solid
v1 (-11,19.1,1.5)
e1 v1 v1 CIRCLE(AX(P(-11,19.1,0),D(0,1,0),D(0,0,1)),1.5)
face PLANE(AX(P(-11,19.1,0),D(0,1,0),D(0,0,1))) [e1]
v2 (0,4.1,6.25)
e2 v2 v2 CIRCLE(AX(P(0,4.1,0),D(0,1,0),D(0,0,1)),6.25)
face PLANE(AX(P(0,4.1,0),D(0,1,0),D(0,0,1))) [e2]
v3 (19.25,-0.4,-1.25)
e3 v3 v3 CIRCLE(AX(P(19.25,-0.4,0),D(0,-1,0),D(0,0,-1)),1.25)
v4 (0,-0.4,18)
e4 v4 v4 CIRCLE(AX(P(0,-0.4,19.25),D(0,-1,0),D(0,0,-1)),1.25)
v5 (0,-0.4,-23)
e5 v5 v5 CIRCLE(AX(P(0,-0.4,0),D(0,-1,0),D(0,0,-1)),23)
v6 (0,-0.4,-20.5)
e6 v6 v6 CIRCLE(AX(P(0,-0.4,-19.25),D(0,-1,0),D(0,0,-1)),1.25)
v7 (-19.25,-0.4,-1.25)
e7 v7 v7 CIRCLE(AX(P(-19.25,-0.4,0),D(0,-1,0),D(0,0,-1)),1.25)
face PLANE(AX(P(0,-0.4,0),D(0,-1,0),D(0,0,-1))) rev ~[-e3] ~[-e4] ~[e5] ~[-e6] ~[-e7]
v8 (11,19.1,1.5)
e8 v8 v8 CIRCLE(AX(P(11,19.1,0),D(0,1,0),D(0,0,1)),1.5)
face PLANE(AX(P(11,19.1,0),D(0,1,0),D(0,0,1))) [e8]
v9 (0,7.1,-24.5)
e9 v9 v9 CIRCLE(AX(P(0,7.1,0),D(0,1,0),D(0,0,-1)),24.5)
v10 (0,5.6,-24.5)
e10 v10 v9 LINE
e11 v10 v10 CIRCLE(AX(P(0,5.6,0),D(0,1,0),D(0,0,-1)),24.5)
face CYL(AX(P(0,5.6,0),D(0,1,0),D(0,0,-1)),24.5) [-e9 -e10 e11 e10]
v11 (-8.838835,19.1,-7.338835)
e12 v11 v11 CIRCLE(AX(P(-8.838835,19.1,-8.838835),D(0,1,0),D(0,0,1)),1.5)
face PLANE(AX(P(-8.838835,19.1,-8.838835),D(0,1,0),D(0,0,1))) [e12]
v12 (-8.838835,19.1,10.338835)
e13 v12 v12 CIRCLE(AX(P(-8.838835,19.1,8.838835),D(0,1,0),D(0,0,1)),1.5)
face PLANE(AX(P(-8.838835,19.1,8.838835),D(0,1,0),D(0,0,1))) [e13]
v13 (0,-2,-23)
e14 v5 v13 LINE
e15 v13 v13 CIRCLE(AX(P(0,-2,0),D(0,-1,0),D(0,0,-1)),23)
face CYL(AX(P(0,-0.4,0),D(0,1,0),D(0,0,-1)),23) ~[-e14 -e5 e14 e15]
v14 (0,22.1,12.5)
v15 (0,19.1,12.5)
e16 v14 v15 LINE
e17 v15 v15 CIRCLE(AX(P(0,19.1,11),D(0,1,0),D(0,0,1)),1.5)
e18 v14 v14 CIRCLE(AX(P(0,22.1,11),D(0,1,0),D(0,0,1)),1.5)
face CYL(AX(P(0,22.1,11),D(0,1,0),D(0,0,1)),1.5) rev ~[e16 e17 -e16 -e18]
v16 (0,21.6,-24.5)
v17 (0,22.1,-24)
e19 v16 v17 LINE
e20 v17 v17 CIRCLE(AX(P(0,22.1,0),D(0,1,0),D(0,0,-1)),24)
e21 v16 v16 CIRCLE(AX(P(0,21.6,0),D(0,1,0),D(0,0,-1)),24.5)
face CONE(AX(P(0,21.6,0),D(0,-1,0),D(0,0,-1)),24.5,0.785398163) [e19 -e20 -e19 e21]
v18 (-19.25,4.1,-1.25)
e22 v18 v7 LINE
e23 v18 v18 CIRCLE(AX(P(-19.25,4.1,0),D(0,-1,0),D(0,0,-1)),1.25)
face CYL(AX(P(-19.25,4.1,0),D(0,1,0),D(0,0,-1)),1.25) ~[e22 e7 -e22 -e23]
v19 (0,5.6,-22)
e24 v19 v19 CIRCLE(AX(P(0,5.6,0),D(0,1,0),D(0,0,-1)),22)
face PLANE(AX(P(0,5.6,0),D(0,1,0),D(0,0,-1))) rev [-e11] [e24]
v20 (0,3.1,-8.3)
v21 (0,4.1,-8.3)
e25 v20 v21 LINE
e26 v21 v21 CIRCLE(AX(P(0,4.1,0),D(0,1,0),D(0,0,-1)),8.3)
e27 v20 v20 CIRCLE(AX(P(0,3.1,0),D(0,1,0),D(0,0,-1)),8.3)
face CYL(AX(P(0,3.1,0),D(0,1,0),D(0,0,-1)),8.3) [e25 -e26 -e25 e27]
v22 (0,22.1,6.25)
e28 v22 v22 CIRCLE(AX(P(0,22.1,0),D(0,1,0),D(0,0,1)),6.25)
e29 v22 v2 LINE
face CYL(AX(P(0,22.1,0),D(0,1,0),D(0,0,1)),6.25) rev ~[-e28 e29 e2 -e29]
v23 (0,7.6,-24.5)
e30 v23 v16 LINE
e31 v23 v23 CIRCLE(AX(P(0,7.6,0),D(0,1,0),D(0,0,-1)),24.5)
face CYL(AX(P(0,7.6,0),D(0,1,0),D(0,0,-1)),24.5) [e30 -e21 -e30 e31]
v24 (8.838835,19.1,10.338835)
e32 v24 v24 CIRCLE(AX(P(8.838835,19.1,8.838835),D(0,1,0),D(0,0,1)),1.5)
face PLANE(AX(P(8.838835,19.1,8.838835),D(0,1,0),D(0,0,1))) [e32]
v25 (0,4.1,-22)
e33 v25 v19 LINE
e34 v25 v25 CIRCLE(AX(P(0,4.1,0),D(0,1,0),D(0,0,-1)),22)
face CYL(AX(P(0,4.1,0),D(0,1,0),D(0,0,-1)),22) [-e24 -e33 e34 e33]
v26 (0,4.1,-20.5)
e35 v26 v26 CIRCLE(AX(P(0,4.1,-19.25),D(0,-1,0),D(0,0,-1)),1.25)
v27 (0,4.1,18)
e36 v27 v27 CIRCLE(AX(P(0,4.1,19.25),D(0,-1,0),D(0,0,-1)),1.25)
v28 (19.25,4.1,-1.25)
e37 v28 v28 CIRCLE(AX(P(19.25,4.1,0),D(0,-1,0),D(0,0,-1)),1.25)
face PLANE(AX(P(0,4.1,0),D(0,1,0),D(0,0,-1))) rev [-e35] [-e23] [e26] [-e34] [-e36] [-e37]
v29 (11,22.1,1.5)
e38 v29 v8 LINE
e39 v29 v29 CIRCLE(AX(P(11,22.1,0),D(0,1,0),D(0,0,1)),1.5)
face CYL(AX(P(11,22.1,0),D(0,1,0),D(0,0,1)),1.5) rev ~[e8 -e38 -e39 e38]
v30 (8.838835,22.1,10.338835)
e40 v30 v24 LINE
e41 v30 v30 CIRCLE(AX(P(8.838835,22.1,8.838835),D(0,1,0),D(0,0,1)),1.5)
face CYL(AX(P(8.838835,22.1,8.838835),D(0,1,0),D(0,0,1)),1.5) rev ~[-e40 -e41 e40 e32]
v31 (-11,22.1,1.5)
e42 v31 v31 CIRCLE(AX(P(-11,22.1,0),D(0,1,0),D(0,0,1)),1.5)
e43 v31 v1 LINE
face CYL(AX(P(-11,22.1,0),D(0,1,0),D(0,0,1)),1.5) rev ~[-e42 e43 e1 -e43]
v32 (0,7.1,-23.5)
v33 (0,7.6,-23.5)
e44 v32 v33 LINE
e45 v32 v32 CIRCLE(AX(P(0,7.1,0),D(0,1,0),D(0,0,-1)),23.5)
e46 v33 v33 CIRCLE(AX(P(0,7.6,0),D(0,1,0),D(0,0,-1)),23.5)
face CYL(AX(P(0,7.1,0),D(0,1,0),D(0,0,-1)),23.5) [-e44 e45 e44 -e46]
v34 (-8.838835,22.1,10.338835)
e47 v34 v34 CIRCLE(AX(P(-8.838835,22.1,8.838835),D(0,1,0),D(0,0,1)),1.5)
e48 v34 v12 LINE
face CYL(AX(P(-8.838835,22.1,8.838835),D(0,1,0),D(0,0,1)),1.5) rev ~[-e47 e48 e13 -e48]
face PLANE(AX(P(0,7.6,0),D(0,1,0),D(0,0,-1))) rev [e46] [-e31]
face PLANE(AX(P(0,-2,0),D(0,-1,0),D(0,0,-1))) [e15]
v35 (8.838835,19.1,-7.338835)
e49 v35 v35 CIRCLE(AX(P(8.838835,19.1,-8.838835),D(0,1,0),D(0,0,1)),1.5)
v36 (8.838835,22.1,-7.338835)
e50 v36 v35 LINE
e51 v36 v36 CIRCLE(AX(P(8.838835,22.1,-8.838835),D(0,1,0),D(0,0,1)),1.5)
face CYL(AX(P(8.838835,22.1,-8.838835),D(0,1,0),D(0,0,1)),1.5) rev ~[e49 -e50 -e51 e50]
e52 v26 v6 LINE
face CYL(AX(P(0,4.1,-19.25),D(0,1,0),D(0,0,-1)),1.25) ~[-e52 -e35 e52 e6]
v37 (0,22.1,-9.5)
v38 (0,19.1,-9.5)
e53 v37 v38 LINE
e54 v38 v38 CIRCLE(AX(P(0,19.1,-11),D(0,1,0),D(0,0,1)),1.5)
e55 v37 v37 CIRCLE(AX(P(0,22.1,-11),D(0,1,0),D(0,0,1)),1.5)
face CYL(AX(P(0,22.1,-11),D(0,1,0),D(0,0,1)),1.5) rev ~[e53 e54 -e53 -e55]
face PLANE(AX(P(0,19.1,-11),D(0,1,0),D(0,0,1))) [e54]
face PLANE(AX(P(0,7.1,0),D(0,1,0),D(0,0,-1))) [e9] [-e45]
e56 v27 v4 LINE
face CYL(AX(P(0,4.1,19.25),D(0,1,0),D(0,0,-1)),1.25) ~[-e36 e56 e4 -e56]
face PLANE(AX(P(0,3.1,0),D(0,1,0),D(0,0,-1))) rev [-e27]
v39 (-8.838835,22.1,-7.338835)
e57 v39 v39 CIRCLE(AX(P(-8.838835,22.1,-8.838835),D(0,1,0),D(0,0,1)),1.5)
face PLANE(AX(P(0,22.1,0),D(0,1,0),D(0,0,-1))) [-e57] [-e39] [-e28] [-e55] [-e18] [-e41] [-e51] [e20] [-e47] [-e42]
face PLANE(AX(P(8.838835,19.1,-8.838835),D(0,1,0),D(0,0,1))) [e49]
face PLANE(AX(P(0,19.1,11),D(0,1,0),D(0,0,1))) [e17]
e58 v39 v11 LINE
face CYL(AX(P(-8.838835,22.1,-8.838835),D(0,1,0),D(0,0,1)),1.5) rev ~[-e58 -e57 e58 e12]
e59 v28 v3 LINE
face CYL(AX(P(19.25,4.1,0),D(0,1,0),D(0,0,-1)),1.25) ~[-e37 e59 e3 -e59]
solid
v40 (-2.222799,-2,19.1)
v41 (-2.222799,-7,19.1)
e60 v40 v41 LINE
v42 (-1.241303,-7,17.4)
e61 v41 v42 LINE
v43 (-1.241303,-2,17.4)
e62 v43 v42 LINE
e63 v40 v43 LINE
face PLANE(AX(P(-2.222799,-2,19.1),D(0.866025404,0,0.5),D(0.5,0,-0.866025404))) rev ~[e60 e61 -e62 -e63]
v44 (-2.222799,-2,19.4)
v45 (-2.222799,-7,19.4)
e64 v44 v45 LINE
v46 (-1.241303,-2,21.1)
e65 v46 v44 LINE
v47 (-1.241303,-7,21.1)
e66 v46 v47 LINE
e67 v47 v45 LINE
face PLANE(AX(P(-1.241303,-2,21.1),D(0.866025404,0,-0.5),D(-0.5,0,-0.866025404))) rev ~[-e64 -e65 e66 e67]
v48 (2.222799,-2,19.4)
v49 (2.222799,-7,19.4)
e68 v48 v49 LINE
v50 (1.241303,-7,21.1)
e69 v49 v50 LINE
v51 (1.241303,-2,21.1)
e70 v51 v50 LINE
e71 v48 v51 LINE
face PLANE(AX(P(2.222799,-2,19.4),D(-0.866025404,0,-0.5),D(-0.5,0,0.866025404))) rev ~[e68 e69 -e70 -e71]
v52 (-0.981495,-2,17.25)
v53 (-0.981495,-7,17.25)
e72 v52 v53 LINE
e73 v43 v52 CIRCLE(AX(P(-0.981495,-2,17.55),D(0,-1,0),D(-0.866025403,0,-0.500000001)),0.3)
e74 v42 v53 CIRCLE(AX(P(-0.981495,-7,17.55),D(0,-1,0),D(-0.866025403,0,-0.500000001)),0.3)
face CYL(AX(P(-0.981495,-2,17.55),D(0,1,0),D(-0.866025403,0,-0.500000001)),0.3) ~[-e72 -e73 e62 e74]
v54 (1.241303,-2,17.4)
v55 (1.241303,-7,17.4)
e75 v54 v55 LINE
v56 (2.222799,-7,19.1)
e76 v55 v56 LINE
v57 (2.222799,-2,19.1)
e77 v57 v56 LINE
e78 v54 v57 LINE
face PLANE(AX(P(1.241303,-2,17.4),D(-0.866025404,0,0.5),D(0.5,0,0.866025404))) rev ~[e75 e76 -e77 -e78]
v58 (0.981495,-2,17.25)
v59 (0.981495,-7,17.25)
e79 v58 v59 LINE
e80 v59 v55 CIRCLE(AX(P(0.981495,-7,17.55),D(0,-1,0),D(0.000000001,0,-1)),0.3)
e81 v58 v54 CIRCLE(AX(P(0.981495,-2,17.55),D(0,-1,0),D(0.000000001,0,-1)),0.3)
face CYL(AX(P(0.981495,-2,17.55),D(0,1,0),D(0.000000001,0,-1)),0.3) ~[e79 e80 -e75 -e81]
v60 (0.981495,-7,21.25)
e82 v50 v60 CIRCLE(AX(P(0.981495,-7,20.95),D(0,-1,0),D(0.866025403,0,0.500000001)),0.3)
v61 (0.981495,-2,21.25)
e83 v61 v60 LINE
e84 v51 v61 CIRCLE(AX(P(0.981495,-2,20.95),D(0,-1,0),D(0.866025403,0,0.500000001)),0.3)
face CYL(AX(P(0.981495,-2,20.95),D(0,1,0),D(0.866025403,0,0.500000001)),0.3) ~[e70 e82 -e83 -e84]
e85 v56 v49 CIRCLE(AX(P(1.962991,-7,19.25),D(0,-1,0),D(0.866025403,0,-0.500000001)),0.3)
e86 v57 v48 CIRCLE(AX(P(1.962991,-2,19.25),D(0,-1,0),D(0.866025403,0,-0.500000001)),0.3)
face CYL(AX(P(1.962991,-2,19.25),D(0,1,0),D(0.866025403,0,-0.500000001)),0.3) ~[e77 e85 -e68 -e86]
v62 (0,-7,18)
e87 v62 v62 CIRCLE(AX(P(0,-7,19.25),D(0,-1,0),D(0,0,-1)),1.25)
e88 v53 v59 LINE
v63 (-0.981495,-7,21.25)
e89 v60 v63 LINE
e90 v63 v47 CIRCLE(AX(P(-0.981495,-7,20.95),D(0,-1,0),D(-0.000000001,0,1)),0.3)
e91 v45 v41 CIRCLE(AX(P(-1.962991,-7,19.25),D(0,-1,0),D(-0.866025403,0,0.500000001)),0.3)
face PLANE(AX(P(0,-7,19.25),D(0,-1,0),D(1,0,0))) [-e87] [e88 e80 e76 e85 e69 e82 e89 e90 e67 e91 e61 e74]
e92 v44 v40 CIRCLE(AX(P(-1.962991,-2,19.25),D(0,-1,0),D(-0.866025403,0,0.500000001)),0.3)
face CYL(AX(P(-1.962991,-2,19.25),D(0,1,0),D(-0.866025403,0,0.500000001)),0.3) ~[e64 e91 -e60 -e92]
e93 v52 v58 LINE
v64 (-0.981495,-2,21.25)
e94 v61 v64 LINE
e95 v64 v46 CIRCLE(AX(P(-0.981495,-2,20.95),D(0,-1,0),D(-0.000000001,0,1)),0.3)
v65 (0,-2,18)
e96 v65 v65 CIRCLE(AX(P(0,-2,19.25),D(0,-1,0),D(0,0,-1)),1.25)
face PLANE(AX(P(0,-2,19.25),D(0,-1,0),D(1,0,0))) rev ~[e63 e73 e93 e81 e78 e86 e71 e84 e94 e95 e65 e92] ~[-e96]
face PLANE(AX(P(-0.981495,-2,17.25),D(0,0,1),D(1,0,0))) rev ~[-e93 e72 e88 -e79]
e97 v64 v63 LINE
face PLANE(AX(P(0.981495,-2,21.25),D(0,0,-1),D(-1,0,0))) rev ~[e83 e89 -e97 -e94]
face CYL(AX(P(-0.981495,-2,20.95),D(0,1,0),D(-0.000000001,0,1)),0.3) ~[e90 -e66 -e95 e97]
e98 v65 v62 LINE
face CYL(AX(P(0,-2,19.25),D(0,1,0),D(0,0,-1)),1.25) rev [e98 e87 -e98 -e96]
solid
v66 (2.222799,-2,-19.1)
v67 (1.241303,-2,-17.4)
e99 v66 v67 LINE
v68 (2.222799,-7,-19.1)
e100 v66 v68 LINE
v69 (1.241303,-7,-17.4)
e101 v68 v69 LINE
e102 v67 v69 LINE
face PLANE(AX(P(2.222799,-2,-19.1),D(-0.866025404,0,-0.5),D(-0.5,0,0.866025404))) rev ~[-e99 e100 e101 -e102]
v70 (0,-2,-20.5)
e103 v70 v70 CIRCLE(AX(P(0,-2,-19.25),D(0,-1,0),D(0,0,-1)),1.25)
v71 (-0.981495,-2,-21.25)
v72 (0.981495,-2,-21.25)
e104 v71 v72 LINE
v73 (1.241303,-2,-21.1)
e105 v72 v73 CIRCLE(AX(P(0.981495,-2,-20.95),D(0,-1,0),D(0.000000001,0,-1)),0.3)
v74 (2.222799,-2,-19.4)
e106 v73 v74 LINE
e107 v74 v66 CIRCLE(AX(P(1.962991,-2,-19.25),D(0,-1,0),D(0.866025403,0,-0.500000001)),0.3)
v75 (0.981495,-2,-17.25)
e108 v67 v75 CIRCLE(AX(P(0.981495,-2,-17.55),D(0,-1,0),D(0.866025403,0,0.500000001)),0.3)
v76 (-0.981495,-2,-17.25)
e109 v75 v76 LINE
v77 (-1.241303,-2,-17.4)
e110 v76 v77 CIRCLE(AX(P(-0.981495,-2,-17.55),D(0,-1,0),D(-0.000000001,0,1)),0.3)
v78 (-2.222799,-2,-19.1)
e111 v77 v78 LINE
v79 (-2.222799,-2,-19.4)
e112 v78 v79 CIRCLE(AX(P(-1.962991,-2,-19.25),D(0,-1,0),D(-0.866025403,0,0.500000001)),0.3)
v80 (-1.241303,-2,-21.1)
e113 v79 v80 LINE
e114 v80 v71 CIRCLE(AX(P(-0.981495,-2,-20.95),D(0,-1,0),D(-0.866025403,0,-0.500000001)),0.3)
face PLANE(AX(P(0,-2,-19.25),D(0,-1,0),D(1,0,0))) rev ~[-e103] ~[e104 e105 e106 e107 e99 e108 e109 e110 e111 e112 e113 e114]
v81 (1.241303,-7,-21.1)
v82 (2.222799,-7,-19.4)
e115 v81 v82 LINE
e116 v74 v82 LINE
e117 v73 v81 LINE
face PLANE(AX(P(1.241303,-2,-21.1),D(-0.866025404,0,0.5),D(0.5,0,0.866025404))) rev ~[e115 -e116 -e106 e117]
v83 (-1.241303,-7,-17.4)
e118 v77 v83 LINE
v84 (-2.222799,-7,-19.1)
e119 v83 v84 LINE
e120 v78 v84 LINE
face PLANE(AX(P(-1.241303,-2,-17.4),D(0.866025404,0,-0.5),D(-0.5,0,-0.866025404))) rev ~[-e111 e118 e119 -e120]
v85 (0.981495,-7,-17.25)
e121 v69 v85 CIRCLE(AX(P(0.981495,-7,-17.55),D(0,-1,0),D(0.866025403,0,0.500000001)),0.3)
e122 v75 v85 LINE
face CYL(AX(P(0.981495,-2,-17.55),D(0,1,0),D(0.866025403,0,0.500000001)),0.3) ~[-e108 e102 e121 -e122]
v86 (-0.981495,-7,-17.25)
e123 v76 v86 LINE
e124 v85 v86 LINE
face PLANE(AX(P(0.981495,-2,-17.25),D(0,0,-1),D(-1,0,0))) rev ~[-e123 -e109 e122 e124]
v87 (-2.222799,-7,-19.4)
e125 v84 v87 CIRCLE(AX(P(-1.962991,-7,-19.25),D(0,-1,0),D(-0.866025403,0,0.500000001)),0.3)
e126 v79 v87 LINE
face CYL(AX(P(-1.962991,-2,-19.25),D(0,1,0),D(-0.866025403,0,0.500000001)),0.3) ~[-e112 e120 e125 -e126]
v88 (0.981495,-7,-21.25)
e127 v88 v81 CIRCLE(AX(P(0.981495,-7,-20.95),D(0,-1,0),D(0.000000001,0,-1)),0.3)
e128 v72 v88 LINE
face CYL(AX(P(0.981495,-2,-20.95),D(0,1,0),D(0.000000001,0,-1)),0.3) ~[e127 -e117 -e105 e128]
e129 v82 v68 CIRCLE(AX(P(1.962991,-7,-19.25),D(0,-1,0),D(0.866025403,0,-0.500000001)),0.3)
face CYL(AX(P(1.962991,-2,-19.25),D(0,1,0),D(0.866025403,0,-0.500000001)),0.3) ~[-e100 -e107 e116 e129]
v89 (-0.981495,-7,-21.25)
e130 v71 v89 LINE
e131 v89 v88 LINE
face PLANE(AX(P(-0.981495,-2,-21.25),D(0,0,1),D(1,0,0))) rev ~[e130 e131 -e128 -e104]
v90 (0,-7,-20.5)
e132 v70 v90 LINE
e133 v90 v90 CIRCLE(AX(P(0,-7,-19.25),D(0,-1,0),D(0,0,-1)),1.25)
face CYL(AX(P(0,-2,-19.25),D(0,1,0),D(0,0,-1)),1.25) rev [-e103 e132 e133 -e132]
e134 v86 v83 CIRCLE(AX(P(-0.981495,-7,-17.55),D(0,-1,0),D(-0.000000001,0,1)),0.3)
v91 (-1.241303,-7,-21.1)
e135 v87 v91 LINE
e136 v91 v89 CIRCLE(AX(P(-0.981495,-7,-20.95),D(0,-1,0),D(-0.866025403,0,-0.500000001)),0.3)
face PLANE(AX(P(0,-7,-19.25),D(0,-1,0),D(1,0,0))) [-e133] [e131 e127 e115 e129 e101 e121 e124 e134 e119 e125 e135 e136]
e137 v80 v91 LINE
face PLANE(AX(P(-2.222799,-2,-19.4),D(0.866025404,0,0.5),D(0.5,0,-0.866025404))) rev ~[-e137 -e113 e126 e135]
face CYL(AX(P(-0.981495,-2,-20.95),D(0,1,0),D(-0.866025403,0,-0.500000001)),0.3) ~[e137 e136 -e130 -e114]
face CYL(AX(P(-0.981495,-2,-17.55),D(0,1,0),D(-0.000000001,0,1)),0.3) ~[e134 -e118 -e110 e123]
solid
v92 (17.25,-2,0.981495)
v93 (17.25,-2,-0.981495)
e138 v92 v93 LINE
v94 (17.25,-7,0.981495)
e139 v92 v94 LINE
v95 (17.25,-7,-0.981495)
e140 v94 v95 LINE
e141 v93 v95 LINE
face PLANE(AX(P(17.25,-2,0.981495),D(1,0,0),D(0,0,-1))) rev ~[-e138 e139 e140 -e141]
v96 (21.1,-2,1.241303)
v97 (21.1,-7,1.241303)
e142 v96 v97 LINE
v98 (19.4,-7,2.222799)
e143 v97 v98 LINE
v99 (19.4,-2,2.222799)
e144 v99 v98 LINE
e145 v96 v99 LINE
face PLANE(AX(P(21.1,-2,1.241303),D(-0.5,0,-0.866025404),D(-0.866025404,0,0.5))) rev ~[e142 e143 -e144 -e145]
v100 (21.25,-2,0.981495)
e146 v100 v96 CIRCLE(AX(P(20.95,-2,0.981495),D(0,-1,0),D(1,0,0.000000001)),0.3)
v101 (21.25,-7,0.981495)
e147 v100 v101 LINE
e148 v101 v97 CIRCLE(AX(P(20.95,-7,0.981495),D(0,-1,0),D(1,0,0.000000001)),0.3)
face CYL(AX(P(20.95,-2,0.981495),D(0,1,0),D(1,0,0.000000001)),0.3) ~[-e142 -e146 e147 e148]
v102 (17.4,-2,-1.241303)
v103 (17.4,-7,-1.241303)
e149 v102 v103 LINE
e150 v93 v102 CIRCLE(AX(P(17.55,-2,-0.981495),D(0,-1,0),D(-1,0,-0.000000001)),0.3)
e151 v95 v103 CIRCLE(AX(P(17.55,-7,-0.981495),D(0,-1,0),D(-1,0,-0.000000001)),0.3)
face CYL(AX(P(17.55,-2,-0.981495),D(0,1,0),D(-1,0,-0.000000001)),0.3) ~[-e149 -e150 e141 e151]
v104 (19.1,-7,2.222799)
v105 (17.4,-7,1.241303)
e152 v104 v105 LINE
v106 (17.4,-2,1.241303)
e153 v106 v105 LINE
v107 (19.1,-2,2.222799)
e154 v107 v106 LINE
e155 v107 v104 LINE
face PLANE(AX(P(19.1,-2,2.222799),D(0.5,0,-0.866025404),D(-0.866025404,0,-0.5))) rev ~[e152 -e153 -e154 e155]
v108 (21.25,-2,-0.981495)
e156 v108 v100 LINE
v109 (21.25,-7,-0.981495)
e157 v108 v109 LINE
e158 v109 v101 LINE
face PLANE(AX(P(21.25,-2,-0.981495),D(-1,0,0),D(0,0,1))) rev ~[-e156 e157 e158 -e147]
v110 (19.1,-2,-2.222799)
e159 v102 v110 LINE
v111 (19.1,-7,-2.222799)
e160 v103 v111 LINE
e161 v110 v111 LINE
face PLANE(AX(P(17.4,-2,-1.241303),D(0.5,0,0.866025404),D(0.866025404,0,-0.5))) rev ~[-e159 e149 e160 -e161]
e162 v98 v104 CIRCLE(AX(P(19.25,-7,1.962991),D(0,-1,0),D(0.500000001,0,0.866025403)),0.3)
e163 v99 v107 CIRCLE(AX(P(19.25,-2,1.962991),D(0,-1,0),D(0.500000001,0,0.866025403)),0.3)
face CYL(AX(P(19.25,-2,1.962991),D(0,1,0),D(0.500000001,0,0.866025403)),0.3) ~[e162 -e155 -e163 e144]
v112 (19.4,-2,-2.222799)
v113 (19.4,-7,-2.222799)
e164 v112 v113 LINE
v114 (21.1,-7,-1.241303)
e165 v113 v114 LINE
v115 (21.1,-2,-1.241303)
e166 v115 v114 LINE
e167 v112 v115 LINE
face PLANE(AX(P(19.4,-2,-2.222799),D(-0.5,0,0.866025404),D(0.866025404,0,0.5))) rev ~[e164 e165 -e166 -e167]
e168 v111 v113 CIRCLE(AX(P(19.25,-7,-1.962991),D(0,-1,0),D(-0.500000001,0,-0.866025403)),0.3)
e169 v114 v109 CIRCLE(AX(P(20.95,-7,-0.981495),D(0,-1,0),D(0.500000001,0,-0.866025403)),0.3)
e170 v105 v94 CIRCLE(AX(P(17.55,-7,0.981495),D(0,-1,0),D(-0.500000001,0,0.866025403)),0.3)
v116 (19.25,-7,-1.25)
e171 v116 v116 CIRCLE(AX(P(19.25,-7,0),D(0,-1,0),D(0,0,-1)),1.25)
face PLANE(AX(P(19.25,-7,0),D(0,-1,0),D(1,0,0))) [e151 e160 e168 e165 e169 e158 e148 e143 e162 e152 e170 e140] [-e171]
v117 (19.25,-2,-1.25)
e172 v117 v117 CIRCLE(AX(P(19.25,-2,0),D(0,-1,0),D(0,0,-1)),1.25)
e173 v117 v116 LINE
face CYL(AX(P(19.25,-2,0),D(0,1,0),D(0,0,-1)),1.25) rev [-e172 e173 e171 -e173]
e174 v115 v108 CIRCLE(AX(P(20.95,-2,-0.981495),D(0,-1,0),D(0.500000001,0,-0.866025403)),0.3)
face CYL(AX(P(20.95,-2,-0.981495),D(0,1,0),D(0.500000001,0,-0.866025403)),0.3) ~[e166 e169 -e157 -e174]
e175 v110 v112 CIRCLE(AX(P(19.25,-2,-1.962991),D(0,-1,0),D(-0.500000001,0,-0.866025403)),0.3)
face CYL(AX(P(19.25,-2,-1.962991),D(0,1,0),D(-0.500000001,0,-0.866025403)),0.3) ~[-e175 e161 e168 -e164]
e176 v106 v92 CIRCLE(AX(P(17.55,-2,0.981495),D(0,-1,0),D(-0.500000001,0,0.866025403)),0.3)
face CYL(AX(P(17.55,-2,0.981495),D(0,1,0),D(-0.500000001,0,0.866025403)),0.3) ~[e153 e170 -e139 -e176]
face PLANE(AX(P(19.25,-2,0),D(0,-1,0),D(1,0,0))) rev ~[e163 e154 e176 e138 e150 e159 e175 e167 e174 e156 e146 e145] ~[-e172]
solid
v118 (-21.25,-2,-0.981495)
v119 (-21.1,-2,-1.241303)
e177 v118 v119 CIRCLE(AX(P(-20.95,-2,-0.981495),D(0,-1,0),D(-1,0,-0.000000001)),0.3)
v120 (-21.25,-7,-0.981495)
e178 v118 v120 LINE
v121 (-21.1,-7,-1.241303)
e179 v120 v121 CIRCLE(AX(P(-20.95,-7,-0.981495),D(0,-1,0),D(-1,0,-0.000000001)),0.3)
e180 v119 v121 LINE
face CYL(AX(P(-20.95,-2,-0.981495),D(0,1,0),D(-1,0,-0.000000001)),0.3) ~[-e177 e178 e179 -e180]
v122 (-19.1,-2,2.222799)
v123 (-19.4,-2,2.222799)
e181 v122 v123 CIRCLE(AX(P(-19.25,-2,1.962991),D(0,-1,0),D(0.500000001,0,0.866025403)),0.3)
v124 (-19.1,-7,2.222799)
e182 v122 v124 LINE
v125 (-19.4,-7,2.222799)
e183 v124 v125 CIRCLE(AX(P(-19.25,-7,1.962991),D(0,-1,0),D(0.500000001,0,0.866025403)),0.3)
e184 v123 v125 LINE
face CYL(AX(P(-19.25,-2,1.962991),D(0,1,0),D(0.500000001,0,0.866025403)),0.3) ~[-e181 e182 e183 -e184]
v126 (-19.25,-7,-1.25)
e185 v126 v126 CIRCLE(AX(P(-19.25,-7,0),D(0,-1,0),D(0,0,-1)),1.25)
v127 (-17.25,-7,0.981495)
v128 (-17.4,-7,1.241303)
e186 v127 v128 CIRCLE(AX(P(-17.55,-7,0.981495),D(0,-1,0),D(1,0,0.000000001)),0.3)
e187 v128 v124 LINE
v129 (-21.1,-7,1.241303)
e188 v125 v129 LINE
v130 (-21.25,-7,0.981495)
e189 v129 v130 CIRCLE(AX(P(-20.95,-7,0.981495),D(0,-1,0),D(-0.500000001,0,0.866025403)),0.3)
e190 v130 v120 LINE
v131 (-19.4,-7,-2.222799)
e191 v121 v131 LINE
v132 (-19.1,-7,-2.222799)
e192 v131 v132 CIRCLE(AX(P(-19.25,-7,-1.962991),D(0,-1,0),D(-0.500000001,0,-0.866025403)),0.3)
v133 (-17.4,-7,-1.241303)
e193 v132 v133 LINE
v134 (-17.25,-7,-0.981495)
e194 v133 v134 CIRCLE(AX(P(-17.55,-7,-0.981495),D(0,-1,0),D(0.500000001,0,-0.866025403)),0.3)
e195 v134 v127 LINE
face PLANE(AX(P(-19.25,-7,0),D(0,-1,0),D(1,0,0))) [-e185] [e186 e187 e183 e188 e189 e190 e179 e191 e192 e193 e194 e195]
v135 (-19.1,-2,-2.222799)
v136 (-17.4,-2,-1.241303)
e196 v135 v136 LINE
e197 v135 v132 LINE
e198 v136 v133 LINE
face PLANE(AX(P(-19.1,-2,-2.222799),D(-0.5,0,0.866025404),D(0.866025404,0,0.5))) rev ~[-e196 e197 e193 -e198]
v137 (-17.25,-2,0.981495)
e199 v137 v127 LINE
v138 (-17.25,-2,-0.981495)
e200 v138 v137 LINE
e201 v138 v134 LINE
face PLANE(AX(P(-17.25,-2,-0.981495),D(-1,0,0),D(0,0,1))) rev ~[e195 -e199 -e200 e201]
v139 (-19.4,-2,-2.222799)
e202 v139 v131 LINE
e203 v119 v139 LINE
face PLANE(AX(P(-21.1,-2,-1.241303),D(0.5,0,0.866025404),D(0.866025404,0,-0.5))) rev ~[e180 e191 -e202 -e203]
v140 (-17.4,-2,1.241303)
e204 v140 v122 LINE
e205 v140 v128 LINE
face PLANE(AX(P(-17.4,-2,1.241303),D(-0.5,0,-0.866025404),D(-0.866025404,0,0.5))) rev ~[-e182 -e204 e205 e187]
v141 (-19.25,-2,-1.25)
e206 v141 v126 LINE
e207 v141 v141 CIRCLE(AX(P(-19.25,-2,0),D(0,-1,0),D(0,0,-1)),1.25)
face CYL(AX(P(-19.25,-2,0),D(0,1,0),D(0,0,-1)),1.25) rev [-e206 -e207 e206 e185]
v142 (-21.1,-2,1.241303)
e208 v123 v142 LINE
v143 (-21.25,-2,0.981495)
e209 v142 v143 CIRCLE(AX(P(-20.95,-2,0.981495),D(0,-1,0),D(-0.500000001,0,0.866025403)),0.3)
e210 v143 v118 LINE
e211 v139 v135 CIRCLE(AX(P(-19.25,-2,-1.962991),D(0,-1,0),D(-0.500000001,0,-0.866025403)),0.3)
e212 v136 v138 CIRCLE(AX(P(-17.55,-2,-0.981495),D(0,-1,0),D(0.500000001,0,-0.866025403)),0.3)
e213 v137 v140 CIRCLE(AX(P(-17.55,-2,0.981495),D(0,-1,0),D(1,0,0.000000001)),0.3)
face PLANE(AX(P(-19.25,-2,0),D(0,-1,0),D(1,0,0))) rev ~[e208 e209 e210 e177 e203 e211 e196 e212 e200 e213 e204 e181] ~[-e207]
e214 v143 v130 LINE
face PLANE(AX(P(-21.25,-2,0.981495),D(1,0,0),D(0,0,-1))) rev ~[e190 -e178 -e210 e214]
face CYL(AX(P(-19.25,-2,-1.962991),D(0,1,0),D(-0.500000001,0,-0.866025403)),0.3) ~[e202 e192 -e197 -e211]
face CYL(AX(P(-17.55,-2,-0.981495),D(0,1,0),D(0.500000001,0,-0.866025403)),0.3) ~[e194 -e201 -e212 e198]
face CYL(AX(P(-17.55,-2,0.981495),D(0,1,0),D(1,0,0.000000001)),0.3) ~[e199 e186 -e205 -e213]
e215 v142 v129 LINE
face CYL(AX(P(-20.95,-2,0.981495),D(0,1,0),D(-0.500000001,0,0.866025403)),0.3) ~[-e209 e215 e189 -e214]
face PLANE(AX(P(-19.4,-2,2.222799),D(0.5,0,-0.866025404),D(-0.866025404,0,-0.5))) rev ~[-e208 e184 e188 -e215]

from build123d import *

# Parameters (mm, degrees)
SKETCH_2_R          = 1.5
CUT_EXTRUDE_1_DEPTH = 3
SKETCH_3_R          = 6.25
CUT_EXTRUDE_2_DEPTH = 18
SKETCH_6_R          = 1.25
EXTRUDE_1_DEPTH     = 4.5
SKETCH_7_R          = 23
EXTRUDE_2_DEPTH     = 1.6
SKETCH_10_R         = 1.25
EXTRUDE_3_DEPTH     = 5
EXTRUDE_3_2_DEPTH   = 5
EXTRUDE_3_3_DEPTH   = 5
EXTRUDE_3_4_DEPTH   = 5


with BuildPart() as part:
    # 草图1 → 旋转1 (revolve)
    with BuildSketch(Plane.XY, mode=Mode.PRIVATE) as revolve_1_sk:
        Polygon((24, 22.1), (0, 22.1), (0, 4.545296676), (0, 3.1), (8.3, 3.1), (8.3, 4.1), (22, 4.1), (22, 5.6), (24.5, 5.6), (24.5, 7.1), (23.5, 7.1), (23.5, 7.6), (24.5, 7.6), (24.5, 21.6), align=None)
    revolve(revolve_1_sk.sketch.rotate(Axis((0, 4.545296676, 0), (0, 1, 0)), 90), axis=Axis((0, 4.545296676, 0), (0, 1, 0)))

    # 草图2 → 切除-拉伸1 (cut)
    with BuildSketch(Plane(origin=(0, 22.1, 0), x_dir=(1, 0, 0), z_dir=(0, 1, 0))):
        with Locations(Location((0, 11, 0), (0, 0, 270))):
            Circle(SKETCH_2_R)
        with Locations(Location((11, 0, 0), (0, 0, 270))):
            Circle(SKETCH_2_R)
        with Locations(Location((0, -11, 0), (0, 0, 270))):
            Circle(SKETCH_2_R)
        with Locations(Location((-11, 0, 0), (0, 0, 270))):
            Circle(SKETCH_2_R)
        with Locations(Location((8.838834765, 8.838834765, 0), (0, 0, 270))):
            Circle(SKETCH_2_R)
        with Locations(Location((8.838834765, -8.838834765, 0), (0, 0, 270))):
            Circle(SKETCH_2_R)
        with Locations(Location((-8.838834765, -8.838834765, 0), (0, 0, 270))):
            Circle(SKETCH_2_R)
        with Locations(Location((-8.838834765, 8.838834765, 0), (0, 0, 270))):
            Circle(SKETCH_2_R)
    extrude(amount=-CUT_EXTRUDE_1_DEPTH, mode=Mode.SUBTRACT)

    # 草图3 → 切除-拉伸2 (cut)
    with BuildSketch(Plane(origin=(0, 22.1, 0), x_dir=(1, 0, 0), z_dir=(0, 1, 0))):
        with Locations(Location((0, 0, 0), (0, 0, 270))):
            Circle(SKETCH_3_R)
    extrude(amount=-CUT_EXTRUDE_2_DEPTH, mode=Mode.SUBTRACT)

    # 草图6 → 凸台-拉伸1 (add)
    with BuildSketch(Plane.XZ.offset(-4.1)):
        with Locations(Location((0, 19.25, 0), (0, 0, 270))):
            Circle(SKETCH_6_R)
        with Locations(Location((19.25, 0, 0), (0, 0, 270))):
            Circle(SKETCH_6_R)
        with Locations(Location((0, -19.25, 0), (0, 0, 270))):
            Circle(SKETCH_6_R)
        with Locations(Location((-19.25, 0, 0), (0, 0, 270))):
            Circle(SKETCH_6_R)
    extrude(amount=EXTRUDE_1_DEPTH)

    # 草图7 → 凸台-拉伸2 (add)
    with BuildSketch(Plane.XZ.offset(0.4)):
        with Locations(Location((0, 0, 0), (0, 0, 270))):
            Circle(SKETCH_7_R)
    extrude(amount=EXTRUDE_2_DEPTH)


with BuildPart() as body_2:
    # 草图10 → 凸台-拉伸3 (new body)
    with BuildSketch(Plane.XZ.offset(2)):
        with BuildLine():
            Line((21.1, 1.241303079), (19.4, 2.222798536))
            ThreePointArc((19.4, 2.222798536), (19.25, 2.262990915), (19.1, 2.222798536))
            Line((19.1, 2.222798536), (17.4, 1.241303079))
            ThreePointArc((17.4, 1.241303079), (17.290192379, 1.131495458), (17.25, 0.981495458))
            Line((17.25, 0.981495458), (17.25, -0.981495458))
            ThreePointArc((17.25, -0.981495458), (17.290192379, -1.131495458), (17.4, -1.241303079))
            Line((17.4, -1.241303079), (19.1, -2.222798536))
            ThreePointArc((19.1, -2.222798536), (19.25, -2.262990915), (19.4, -2.222798536))
            Line((19.4, -2.222798536), (21.1, -1.241303079))
            ThreePointArc((21.1, -1.241303079), (21.209807621, -1.131495458), (21.25, -0.981495458))
            Line((21.25, -0.981495458), (21.25, 0.981495458))
            ThreePointArc((21.25, 0.981495458), (21.209807621, 1.131495458), (21.1, 1.241303079))
        make_face()
        with Locations(Location((19.25, 0, 0), (0, 0, 270))):
            Circle(SKETCH_10_R, mode=Mode.SUBTRACT)
    extrude(amount=EXTRUDE_3_DEPTH)


with BuildPart() as body_3:
    # 草图10 → Extrude 3 2 (new body)
    with BuildSketch(Plane.XZ.offset(2)):
        with BuildLine():
            Line((-1.241303079, 21.1), (-2.222798536, 19.4))
            ThreePointArc((-2.222798536, 19.4), (-2.262990915, 19.25), (-2.222798536, 19.1))
            Line((-2.222798536, 19.1), (-1.241303079, 17.4))
            ThreePointArc((-1.241303079, 17.4), (-1.131495458, 17.290192379), (-0.981495458, 17.25))
            Line((-0.981495458, 17.25), (0.981495458, 17.25))
            ThreePointArc((0.981495458, 17.25), (1.131495458, 17.290192379), (1.241303079, 17.4))
            Line((1.241303079, 17.4), (2.222798536, 19.1))
            ThreePointArc((2.222798536, 19.1), (2.262990915, 19.25), (2.222798536, 19.4))
            Line((2.222798536, 19.4), (1.241303079, 21.1))
            ThreePointArc((1.241303079, 21.1), (1.131495458, 21.209807621), (0.981495458, 21.25))
            Line((0.981495458, 21.25), (-0.981495458, 21.25))
            ThreePointArc((-0.981495458, 21.25), (-1.131495458, 21.209807621), (-1.241303079, 21.1))
        make_face()
        with Locations(Location((0, 19.25, 0), (0, 0, 270))):
            Circle(SKETCH_10_R, mode=Mode.SUBTRACT)
    extrude(amount=EXTRUDE_3_2_DEPTH)


with BuildPart() as body_4:
    # 草图10 → Extrude 3 3 (new body)
    with BuildSketch(Plane.XZ.offset(2)):
        with BuildLine():
            Line((1.241303079, -21.1), (2.222798536, -19.4))
            ThreePointArc((2.222798536, -19.4), (2.262990915, -19.25), (2.222798536, -19.1))
            Line((2.222798536, -19.1), (1.241303079, -17.4))
            ThreePointArc((1.241303079, -17.4), (1.131495458, -17.290192379), (0.981495458, -17.25))
            Line((0.981495458, -17.25), (-0.981495458, -17.25))
            ThreePointArc((-0.981495458, -17.25), (-1.131495458, -17.290192379), (-1.241303079, -17.4))
            Line((-1.241303079, -17.4), (-2.222798536, -19.1))
            ThreePointArc((-2.222798536, -19.1), (-2.262990915, -19.25), (-2.222798536, -19.4))
            Line((-2.222798536, -19.4), (-1.241303079, -21.1))
            ThreePointArc((-1.241303079, -21.1), (-1.131495458, -21.209807621), (-0.981495458, -21.25))
            Line((-0.981495458, -21.25), (0.981495458, -21.25))
            ThreePointArc((0.981495458, -21.25), (1.131495458, -21.209807621), (1.241303079, -21.1))
        make_face()
        with Locations(Location((0, -19.25, 0), (0, 0, 270))):
            Circle(SKETCH_10_R, mode=Mode.SUBTRACT)
    extrude(amount=EXTRUDE_3_3_DEPTH)


with BuildPart() as body_5:
    # 草图10 → Extrude 3 4 (new body)
    with BuildSketch(Plane.XZ.offset(2)):
        with BuildLine():
            Line((-21.1, -1.241303079), (-19.4, -2.222798536))
            ThreePointArc((-19.4, -2.222798536), (-19.25, -2.262990915), (-19.1, -2.222798536))
            Line((-19.1, -2.222798536), (-17.4, -1.241303079))
            ThreePointArc((-17.4, -1.241303079), (-17.290192379, -1.131495458), (-17.25, -0.981495458))
            Line((-17.25, -0.981495458), (-17.25, 0.981495458))
            ThreePointArc((-17.25, 0.981495458), (-17.290192379, 1.131495458), (-17.4, 1.241303079))
            Line((-17.4, 1.241303079), (-19.1, 2.222798536))
            ThreePointArc((-19.1, 2.222798536), (-19.25, 2.262990915), (-19.4, 2.222798536))
            Line((-19.4, 2.222798536), (-21.1, 1.241303079))
            ThreePointArc((-21.1, 1.241303079), (-21.209807621, 1.131495458), (-21.25, 0.981495458))
            Line((-21.25, 0.981495458), (-21.25, -0.981495458))
            ThreePointArc((-21.25, -0.981495458), (-21.209807621, -1.131495458), (-21.1, -1.241303079))
        make_face()
        with Locations(Location((-19.25, 0, 0), (0, 0, 270))):
            Circle(SKETCH_10_R, mode=Mode.SUBTRACT)
    extrude(amount=EXTRUDE_3_4_DEPTH)


solid = Compound([part.part, body_2.part, body_3.part, body_4.part, body_5.part])
